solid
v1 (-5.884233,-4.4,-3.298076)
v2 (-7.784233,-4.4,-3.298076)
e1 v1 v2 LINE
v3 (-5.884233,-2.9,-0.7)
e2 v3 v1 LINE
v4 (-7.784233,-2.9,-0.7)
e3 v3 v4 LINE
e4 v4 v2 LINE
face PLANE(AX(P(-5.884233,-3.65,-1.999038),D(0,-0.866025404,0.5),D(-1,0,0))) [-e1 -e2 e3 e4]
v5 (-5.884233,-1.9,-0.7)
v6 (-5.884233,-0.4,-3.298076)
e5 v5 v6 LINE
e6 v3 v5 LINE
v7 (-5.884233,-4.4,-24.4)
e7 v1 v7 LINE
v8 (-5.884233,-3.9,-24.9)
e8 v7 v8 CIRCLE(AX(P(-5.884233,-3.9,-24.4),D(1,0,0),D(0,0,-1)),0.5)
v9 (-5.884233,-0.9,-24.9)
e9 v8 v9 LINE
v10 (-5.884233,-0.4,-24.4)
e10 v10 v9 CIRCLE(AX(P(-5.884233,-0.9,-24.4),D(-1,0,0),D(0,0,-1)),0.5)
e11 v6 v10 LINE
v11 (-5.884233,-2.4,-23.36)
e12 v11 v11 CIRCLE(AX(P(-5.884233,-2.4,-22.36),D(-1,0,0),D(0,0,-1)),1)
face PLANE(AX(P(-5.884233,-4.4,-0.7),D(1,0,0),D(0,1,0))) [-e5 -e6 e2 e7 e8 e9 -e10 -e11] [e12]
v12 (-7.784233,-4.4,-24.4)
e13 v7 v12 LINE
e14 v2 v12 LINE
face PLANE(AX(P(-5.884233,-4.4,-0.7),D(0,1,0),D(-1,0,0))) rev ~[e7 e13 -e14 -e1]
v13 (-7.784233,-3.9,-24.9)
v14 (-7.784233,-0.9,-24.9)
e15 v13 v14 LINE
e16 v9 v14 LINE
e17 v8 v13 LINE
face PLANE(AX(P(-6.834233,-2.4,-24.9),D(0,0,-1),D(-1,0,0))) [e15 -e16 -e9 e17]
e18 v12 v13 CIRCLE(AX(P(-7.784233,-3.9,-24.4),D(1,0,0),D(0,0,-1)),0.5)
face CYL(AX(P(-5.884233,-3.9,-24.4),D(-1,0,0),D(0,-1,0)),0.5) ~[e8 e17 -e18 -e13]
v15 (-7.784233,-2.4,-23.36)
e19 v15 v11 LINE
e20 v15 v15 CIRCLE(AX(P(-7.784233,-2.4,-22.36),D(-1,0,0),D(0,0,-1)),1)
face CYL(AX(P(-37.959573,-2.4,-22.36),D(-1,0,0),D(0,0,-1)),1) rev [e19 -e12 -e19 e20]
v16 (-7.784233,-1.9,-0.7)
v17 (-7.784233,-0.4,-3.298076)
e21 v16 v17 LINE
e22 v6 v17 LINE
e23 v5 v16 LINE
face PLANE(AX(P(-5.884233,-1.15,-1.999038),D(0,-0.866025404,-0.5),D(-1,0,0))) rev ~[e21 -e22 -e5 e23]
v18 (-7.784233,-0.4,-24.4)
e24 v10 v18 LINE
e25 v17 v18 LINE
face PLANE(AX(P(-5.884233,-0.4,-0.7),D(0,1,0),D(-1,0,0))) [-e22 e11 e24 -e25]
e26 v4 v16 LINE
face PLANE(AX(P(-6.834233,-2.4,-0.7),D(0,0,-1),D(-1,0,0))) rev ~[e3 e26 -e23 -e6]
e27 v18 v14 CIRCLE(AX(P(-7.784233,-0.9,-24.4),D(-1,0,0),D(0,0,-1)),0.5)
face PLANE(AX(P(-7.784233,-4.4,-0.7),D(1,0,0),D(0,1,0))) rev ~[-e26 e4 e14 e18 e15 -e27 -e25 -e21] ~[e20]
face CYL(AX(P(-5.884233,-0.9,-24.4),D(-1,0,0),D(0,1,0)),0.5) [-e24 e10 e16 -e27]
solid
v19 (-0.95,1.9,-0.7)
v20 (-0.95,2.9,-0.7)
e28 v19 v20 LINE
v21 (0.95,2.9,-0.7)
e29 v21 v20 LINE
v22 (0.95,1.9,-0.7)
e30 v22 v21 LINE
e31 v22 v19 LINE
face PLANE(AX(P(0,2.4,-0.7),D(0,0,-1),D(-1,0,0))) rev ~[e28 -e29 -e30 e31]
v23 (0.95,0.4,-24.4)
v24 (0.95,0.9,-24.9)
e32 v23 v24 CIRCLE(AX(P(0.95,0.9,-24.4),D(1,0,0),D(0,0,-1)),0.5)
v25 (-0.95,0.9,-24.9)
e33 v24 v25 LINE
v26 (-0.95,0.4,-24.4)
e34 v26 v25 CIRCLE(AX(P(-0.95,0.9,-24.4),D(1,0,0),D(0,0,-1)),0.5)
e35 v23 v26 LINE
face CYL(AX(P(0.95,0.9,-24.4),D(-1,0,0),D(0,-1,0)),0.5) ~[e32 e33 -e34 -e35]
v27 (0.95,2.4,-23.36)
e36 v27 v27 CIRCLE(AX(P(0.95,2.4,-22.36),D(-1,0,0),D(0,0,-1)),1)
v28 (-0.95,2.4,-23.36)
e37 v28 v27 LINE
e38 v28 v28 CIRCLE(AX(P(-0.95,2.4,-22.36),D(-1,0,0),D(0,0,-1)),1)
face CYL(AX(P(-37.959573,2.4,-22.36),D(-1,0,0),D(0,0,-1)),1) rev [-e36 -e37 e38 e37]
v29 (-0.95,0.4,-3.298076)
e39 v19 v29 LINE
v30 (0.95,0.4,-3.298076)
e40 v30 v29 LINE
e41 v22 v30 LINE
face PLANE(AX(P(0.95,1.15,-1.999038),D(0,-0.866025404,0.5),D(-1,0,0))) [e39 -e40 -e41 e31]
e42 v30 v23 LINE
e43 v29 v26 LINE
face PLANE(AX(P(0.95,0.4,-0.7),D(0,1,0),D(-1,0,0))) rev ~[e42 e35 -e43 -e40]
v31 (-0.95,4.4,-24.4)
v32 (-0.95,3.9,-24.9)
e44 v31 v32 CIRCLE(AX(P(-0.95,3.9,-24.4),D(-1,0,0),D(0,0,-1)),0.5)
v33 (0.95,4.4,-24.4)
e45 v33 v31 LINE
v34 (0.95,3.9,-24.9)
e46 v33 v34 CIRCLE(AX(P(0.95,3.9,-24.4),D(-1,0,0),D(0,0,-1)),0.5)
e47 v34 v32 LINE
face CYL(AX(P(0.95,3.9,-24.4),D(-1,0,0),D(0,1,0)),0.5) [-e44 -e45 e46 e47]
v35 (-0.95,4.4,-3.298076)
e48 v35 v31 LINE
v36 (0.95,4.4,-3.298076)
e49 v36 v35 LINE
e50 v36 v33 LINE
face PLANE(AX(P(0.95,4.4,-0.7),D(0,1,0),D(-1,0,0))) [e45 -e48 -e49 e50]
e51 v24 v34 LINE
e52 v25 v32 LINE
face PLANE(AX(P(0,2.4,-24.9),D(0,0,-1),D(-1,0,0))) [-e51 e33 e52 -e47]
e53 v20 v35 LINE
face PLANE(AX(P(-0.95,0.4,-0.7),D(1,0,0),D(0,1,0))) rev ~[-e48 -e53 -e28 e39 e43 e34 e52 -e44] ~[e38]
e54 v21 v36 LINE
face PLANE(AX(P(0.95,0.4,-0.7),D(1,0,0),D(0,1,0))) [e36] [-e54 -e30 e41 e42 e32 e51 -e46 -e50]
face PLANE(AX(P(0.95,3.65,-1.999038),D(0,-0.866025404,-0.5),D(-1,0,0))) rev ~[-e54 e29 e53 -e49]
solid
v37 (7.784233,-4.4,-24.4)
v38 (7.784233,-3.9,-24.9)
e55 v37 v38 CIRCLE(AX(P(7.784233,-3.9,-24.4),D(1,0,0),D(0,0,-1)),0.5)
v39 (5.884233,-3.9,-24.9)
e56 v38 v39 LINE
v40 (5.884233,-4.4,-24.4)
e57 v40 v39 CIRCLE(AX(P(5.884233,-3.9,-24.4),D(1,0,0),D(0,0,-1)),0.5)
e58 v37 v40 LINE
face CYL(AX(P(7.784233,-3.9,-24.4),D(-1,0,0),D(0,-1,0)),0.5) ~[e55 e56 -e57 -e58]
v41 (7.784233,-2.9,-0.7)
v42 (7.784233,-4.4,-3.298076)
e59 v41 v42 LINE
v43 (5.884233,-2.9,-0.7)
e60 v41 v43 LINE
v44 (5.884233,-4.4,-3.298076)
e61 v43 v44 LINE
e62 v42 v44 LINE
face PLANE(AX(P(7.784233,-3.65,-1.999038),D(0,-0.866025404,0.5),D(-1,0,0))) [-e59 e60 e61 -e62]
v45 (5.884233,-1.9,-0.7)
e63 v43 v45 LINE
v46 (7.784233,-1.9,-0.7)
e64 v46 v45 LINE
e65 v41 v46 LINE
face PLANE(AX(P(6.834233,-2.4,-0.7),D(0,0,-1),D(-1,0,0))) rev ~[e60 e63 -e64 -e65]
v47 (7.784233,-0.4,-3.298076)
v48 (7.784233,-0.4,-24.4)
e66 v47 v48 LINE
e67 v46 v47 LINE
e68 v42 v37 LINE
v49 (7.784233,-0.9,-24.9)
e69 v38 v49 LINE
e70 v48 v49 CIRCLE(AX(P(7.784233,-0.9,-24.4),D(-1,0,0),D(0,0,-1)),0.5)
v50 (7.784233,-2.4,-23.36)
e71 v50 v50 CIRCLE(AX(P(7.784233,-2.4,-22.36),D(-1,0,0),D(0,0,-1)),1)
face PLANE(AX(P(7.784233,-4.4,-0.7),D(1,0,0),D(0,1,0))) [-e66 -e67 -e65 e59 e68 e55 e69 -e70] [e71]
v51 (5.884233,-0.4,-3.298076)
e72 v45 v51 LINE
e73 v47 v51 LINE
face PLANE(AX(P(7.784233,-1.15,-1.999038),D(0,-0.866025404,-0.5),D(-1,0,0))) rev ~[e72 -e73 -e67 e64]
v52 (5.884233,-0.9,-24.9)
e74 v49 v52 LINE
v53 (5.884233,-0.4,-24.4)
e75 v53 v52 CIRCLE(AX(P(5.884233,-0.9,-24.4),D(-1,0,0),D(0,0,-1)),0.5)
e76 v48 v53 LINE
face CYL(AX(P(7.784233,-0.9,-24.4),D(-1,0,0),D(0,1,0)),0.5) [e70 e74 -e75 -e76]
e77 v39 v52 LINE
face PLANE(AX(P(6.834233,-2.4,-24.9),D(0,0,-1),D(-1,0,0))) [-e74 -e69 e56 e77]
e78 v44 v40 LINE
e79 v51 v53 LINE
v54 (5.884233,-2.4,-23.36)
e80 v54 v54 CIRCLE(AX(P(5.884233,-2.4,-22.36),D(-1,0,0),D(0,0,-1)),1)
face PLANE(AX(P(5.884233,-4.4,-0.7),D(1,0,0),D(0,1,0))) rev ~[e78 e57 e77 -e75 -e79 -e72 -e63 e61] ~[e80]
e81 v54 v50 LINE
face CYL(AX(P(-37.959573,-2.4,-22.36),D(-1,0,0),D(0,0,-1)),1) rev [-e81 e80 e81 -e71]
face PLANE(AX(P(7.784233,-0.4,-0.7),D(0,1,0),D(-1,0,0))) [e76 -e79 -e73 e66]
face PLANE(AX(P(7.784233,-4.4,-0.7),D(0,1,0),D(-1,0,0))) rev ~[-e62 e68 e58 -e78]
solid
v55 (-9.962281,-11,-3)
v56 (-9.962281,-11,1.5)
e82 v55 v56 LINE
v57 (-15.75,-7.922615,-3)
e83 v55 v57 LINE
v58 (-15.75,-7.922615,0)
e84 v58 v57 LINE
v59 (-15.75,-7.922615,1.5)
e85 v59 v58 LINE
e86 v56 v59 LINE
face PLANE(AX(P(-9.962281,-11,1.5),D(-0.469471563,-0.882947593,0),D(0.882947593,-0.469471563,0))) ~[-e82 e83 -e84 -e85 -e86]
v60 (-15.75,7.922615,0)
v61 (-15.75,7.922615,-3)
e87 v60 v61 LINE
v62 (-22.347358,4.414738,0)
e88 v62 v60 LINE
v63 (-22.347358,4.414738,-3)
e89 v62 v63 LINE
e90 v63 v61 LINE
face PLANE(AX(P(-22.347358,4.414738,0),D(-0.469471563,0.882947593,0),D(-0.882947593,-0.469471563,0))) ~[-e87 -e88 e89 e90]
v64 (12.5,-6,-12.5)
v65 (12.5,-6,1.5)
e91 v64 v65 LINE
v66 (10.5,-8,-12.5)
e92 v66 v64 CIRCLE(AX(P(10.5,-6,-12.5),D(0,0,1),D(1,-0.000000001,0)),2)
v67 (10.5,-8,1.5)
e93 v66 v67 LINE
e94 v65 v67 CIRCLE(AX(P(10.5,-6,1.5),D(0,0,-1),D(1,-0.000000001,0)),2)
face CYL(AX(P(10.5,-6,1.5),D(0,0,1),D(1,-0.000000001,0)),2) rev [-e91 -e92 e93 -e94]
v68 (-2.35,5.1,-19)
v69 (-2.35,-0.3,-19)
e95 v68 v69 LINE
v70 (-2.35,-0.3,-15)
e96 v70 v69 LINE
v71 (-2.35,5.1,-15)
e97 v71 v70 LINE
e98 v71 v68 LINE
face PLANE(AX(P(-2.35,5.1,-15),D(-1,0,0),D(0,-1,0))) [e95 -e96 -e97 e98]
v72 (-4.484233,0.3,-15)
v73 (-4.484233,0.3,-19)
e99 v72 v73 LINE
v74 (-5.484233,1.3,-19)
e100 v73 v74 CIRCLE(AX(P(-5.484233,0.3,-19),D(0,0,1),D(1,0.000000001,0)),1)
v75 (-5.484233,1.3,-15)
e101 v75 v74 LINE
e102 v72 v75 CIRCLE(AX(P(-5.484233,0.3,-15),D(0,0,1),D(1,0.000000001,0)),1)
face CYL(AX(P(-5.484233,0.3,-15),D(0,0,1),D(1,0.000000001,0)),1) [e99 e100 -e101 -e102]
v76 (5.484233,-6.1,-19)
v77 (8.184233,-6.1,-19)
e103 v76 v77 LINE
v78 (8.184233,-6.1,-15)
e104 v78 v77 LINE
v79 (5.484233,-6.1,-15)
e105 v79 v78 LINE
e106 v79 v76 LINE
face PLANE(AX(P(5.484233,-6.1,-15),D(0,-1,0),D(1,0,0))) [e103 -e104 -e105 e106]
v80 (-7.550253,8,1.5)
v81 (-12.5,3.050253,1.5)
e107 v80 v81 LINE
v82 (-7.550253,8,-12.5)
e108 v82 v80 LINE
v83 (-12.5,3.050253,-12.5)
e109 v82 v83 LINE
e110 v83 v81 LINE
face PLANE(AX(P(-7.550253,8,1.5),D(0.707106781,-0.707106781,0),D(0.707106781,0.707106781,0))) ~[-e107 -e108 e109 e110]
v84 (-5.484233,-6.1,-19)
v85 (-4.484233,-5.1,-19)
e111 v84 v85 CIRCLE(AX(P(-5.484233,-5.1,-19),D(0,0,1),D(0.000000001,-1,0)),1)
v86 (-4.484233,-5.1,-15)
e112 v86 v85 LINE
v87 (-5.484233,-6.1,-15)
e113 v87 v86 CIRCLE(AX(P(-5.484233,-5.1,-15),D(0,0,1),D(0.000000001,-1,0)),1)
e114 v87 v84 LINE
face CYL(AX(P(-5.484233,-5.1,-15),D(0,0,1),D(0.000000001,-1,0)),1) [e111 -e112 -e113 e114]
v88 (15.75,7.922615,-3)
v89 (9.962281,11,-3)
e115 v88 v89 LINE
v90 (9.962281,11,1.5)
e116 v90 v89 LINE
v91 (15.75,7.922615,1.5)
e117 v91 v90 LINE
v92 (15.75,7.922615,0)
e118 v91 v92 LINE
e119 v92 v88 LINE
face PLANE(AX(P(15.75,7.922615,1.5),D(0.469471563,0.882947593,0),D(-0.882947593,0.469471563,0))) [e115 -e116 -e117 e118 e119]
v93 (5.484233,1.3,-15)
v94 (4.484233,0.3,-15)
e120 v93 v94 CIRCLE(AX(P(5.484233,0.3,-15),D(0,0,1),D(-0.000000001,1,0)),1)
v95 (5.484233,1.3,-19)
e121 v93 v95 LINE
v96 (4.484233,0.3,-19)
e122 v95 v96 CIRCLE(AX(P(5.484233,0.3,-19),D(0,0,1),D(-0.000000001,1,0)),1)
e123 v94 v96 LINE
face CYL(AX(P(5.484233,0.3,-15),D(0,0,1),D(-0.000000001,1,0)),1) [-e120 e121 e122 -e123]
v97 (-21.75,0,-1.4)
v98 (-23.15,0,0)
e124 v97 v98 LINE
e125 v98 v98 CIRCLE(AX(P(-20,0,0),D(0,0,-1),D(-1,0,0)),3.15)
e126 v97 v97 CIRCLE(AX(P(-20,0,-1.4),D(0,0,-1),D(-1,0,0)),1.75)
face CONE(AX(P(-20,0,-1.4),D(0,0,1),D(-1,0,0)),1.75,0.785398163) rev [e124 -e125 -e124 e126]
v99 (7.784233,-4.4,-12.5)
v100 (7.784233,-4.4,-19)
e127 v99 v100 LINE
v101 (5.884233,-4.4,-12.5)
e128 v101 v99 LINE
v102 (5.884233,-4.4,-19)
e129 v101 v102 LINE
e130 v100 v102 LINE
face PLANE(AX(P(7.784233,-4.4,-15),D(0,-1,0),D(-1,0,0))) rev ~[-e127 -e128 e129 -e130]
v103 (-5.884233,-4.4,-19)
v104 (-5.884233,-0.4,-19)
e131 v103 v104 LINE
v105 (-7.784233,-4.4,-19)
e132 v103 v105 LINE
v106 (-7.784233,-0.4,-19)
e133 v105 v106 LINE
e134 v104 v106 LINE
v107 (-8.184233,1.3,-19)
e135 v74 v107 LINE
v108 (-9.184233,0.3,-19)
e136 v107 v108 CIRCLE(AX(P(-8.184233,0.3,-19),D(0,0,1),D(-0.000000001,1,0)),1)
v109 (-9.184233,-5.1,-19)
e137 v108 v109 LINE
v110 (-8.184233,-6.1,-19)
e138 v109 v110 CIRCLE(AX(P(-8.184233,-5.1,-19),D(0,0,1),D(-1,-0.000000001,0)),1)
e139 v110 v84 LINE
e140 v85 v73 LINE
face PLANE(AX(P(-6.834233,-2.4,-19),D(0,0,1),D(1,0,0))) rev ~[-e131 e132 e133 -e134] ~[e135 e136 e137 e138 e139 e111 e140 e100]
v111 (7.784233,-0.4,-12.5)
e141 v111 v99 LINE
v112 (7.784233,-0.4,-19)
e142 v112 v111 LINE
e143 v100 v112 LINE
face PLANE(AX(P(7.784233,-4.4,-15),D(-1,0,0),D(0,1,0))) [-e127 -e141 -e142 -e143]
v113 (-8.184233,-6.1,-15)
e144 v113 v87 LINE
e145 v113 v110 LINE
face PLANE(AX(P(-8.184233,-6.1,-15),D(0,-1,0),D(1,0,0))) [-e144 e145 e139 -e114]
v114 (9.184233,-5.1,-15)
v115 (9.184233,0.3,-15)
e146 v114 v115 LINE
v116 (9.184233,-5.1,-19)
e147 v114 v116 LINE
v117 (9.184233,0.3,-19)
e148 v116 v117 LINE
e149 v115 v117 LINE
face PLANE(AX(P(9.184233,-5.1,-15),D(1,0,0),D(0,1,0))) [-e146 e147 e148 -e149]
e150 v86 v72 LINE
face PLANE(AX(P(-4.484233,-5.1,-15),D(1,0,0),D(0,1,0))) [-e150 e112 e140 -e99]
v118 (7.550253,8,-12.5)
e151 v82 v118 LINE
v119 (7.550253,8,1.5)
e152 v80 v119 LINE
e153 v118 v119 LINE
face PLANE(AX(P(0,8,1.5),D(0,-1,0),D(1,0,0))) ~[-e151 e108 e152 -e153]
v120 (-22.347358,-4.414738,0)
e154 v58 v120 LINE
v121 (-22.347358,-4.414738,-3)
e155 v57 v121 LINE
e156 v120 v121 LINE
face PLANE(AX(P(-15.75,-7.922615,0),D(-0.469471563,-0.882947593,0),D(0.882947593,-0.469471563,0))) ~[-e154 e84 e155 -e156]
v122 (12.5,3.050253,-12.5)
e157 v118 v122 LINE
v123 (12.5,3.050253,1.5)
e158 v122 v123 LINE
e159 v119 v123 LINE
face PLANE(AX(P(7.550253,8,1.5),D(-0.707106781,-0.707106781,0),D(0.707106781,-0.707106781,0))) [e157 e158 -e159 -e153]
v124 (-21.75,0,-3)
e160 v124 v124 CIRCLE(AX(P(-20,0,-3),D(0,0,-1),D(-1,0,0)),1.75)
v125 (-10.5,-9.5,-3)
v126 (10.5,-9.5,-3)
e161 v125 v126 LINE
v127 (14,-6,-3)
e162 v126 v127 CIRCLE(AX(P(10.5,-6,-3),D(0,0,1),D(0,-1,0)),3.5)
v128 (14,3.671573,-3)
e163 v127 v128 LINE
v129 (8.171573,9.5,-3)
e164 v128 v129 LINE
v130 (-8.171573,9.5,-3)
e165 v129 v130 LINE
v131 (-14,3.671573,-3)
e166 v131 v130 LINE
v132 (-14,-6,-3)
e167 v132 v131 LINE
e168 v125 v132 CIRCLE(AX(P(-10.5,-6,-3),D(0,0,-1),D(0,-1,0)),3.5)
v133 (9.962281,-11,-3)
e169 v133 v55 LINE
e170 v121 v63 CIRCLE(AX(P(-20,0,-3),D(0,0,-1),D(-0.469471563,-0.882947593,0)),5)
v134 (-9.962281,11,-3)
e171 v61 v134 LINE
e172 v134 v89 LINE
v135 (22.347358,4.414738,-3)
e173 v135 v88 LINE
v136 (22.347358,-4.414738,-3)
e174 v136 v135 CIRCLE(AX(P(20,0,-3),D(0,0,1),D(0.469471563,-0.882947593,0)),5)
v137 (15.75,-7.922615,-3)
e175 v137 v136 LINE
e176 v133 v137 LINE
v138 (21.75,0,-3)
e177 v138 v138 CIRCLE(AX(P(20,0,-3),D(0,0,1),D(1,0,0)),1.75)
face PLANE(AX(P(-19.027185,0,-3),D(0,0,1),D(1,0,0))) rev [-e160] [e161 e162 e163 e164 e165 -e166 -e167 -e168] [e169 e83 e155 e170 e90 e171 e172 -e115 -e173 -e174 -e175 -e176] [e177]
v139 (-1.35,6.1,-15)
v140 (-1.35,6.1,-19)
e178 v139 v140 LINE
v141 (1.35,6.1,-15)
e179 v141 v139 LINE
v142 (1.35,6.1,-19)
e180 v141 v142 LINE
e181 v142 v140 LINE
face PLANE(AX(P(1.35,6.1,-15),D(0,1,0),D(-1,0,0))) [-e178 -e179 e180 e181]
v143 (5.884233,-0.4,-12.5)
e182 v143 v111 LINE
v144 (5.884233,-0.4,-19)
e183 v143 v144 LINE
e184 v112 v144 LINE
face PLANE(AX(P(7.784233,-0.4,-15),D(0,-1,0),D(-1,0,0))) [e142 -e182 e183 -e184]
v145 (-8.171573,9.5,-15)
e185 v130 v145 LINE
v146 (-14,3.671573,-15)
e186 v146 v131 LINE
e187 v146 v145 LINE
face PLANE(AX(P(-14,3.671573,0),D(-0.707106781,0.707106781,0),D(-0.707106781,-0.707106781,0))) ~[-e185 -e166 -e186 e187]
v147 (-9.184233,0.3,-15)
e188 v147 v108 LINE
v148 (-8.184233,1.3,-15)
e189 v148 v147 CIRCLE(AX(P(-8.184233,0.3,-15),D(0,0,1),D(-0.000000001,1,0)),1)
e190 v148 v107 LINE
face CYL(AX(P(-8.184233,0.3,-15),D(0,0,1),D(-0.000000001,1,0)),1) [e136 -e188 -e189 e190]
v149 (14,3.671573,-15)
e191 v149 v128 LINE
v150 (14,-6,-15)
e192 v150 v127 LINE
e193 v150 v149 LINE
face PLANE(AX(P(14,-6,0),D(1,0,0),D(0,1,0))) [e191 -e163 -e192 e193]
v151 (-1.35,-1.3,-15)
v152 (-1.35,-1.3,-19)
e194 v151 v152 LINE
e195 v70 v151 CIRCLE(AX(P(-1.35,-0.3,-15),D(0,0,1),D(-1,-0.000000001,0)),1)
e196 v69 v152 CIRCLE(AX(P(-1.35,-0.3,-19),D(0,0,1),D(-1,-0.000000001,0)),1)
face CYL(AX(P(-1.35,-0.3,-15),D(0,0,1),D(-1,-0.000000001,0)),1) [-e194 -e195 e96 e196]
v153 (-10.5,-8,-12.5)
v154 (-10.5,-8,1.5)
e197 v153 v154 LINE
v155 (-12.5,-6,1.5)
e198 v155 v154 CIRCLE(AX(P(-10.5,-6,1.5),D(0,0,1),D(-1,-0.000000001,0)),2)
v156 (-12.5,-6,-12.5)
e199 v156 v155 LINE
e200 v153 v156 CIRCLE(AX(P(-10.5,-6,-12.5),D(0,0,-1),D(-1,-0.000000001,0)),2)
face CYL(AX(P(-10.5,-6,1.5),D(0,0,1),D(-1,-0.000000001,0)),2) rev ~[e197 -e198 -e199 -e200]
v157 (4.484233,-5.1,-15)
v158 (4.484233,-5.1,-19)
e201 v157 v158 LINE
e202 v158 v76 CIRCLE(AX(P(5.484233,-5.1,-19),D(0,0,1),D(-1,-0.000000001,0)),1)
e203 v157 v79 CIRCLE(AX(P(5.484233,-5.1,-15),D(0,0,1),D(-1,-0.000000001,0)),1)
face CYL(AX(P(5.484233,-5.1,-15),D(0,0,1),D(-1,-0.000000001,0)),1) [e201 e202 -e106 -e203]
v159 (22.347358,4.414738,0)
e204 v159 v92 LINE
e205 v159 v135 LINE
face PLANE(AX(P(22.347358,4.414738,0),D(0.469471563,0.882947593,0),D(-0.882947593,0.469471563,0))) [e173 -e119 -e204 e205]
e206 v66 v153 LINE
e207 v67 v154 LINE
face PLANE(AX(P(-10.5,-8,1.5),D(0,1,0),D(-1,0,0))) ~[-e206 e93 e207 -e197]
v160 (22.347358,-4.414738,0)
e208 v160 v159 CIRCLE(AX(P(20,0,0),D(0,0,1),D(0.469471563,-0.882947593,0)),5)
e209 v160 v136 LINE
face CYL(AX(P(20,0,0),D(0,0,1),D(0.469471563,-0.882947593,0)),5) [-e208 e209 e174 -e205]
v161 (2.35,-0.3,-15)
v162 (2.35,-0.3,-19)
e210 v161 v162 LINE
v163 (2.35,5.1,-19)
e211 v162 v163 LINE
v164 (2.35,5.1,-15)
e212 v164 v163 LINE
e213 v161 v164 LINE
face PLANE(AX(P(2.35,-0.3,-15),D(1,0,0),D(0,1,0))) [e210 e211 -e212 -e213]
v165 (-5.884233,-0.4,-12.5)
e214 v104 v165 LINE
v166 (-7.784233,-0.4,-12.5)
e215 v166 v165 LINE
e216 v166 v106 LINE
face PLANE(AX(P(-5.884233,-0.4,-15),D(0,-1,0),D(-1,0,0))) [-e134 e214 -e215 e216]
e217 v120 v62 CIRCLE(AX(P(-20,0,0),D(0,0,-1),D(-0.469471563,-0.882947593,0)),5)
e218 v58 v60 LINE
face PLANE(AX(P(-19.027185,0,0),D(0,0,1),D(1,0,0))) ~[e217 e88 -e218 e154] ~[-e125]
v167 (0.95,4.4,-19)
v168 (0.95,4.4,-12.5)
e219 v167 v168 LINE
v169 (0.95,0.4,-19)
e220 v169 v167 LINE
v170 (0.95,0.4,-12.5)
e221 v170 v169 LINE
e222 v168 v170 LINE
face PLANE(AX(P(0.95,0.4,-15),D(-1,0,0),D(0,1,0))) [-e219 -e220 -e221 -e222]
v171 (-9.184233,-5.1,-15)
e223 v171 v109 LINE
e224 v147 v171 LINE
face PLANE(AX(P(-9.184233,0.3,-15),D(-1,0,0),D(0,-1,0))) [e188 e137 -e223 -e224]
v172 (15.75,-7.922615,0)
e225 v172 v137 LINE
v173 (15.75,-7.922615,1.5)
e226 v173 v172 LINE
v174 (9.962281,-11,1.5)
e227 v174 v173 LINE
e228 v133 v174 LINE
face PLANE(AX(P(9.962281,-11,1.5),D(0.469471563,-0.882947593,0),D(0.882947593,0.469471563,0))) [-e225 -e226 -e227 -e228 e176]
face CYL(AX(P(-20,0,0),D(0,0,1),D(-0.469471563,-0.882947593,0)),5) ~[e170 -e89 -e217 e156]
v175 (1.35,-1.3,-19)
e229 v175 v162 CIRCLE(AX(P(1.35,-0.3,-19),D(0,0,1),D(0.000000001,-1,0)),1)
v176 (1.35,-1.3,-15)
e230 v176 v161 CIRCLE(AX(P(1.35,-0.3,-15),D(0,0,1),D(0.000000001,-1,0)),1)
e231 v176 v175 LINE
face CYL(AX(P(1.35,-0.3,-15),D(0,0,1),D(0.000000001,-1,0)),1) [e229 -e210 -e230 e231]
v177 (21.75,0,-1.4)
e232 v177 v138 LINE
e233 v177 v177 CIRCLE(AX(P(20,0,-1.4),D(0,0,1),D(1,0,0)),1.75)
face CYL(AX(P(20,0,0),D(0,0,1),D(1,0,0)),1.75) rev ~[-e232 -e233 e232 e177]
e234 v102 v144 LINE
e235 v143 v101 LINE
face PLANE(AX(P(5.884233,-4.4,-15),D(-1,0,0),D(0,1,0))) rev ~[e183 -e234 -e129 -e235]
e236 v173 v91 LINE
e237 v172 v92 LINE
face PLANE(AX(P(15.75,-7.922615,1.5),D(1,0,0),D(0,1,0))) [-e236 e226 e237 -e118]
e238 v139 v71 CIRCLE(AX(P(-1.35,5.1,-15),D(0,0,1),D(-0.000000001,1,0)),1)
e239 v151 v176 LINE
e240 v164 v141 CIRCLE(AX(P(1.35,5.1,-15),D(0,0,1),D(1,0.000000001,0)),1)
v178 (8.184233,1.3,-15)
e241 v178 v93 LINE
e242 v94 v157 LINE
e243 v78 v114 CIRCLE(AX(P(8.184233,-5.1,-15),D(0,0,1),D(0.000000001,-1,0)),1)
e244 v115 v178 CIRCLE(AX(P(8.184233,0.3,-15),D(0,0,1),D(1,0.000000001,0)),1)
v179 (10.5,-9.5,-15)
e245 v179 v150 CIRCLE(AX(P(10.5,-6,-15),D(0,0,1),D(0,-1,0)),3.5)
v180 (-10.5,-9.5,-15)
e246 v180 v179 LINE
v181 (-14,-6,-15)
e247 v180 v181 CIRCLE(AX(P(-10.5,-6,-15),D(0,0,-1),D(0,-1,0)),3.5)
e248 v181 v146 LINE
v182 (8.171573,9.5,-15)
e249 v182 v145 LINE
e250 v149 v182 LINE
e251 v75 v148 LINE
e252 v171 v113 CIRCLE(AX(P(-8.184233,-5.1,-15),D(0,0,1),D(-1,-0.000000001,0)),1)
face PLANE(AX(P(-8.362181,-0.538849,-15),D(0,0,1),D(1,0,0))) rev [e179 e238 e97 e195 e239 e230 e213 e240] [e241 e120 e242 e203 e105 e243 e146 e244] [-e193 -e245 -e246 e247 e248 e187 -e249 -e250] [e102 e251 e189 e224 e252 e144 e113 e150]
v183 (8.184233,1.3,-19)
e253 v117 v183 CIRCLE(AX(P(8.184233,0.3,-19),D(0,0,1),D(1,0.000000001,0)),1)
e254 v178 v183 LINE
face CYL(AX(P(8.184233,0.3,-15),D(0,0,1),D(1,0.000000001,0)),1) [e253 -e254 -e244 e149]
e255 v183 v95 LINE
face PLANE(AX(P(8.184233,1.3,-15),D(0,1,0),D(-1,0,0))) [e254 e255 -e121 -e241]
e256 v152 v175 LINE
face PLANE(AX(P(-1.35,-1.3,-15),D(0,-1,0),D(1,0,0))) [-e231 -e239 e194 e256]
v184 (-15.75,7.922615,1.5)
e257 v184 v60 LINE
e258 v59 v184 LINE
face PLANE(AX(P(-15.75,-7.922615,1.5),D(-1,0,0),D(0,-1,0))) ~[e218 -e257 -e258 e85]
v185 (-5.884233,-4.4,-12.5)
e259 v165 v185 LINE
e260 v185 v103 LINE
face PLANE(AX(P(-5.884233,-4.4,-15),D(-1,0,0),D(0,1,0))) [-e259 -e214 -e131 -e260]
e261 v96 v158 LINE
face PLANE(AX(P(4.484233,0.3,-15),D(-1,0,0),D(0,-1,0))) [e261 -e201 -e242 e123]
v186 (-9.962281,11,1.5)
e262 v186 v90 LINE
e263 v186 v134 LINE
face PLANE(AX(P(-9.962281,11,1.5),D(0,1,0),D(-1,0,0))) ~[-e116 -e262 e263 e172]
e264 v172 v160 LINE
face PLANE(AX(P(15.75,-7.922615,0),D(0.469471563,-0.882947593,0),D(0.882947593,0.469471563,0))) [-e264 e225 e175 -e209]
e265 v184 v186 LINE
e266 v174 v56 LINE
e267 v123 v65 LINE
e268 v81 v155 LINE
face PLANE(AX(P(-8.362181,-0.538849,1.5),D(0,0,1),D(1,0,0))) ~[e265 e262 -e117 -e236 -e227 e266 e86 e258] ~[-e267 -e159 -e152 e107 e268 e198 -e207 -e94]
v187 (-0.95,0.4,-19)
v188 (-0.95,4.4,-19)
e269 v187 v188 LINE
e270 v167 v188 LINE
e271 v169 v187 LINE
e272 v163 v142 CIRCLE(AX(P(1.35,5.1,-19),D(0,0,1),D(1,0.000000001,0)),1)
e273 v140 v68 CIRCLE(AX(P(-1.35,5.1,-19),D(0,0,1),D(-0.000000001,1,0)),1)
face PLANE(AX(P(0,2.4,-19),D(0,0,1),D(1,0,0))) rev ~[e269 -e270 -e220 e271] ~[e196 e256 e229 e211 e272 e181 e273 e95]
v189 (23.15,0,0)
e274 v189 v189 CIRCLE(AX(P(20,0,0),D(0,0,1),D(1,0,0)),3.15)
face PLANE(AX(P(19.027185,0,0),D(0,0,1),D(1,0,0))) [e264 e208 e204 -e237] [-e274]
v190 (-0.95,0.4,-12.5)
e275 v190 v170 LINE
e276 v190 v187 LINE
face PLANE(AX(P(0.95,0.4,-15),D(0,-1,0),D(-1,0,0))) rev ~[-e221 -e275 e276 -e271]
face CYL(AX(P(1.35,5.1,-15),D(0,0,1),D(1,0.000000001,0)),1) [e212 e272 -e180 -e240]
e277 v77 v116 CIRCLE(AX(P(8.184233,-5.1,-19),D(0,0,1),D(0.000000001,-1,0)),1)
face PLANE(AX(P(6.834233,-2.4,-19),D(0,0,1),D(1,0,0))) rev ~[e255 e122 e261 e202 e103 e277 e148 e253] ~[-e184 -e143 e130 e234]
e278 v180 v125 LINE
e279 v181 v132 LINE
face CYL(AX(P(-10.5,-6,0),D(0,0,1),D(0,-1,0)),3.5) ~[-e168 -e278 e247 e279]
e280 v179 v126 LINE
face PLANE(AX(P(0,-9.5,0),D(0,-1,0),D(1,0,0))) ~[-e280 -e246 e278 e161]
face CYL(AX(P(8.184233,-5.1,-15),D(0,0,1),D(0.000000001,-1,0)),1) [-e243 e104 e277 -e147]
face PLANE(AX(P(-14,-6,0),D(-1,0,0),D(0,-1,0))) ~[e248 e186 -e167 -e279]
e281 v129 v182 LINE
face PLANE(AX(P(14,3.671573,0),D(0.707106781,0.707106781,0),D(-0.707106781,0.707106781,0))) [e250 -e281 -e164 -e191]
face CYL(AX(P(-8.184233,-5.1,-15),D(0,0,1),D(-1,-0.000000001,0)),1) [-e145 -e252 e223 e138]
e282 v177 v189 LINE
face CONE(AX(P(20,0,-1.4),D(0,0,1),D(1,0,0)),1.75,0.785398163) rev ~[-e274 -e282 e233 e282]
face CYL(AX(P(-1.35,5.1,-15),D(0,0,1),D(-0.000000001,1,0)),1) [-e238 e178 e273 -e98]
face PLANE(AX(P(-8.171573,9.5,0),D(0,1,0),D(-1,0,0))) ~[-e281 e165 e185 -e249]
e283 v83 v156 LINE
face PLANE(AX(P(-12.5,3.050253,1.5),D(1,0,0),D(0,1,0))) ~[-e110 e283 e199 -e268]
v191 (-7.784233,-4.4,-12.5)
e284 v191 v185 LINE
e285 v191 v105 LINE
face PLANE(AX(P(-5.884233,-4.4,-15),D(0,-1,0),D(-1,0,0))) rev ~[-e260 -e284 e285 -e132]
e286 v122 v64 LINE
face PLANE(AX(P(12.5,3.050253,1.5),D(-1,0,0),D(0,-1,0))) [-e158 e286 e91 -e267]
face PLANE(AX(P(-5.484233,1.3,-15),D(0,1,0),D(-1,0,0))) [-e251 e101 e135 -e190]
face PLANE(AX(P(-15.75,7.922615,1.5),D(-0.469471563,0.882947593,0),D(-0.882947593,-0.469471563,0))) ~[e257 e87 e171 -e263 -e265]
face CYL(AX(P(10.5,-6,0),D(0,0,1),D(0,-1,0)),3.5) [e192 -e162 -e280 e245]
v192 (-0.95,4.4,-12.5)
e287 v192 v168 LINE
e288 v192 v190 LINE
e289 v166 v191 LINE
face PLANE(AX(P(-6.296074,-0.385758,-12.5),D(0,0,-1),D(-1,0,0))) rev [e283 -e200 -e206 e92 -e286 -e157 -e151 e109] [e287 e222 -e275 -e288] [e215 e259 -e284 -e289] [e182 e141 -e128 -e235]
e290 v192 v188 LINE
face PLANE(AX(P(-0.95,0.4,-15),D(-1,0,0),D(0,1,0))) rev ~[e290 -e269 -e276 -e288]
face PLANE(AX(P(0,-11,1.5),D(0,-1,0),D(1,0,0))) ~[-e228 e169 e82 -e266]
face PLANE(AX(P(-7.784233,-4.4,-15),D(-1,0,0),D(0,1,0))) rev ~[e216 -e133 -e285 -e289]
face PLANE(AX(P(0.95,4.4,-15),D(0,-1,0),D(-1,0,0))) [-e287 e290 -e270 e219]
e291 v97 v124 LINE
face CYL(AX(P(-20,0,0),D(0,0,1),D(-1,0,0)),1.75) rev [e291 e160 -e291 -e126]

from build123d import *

# Parameters (mm, degrees)
SKETCH1_R                  = 1.75
BOSS_EXTRUDE1_DEPTH        = 3
BOSS_EXTRUDE2_START        = 1.5
BOSS_EXTRUDE2_DEPTH        = 1.5
BOSS_EXTRUDE3_DEPTH        = 15
BOSS_EXTRUDE4_START        = -2.5
BOSS_EXTRUDE4_DEPTH        = 2.5
CHAMFER2_SIZE              = 1.4
SKETCH4_W                  = 1.9
SKETCH4_H                  = 4
BOSS_EXTRUDE5_DEPTH        = 4
SKETCH4_2_W                = 1.9
SKETCH4_2_H                = 4
CUT_EXTRUDE1_DEPTH         = 32.910029771
BOSS_EXTRUDE6_DEPTH        = 9.9
BOSS_EXTRUDE6_DEPTH_BACK   = 14.3
SKETCH4_3_W                = 1.9
SKETCH4_3_H                = 4
BOSS_EXTRUDE6_2_DEPTH      = 9.9
BOSS_EXTRUDE6_2_DEPTH_BACK = 14.3
BOSS_EXTRUDE6_3_DEPTH      = 9.9
BOSS_EXTRUDE6_3_DEPTH_BACK = 14.3
FILLET1_R                  = 0.5
FILLET2_R                  = 0.5
FILLET3_R                  = 0.5
CUT_EXTRUDE2_DEPTH         = 37.959572508
CUT_EXTRUDE2_DEPTH_BACK    = 37.959572508
SKETCH5_R                  = 1
CHAMFER3_SIZE              = 1.5
CHAMFER3_SIZE2             = 2.598076211
CHAMFER4_SIZE              = 1.5
CHAMFER4_SIZE2             = 2.598076211
CHAMFER5_SIZE              = 1.5
CHAMFER5_SIZE2             = 2.598076211


with BuildPart() as part:
    # Sketch1 → Boss-Extrude1 (new body)
    # profile 1 of 3: a face of its own
    with BuildSketch(Plane.XY):
        with BuildLine():
            Line((15.75, 7.922615338), (9.962281222, 11))
            Line((9.962281222, 11), (0, 11))
            Line((0, 11), (0, 9.5))
            Line((0, 9.5), (8.171572875, 9.5))
            Line((8.171572875, 9.5), (14, 3.671572875))
            Line((14, 3.671572875), (14, -6))
            ThreePointArc((14, -6), (12.974873734, -8.474873734), (10.5, -9.5))
            Line((10.5, -9.5), (0, -9.5))
            Line((0, -9.5), (0, -11))
            Line((0, -11), (9.962281222, -11))
            Line((9.962281222, -11), (15.75, -7.922615338))
            Line((15.75, -7.922615338), (15.75, 7.922615338))
        make_face()
    # profile 2 of 3: a face of its own
    with BuildSketch(Plane.XY):
        with BuildLine():
            Line((8.171572875, 9.5), (0, 9.5))
            Line((0, 9.5), (0, 8))
            Line((0, 8), (7.550252532, 8))
            Line((7.550252532, 8), (12.5, 3.050252532))
            Line((12.5, 3.050252532), (12.5, -6))
            ThreePointArc((12.5, -6), (11.914213562, -7.414213562), (10.5, -8))
            Line((10.5, -8), (0, -8))
            Line((0, -8), (0, -9.5))
            Line((0, -9.5), (10.5, -9.5))
            ThreePointArc((10.5, -9.5), (12.974873734, -8.474873734), (14, -6))
            Line((14, -6), (14, 3.671572875))
            Line((14, 3.671572875), (8.171572875, 9.5))
        make_face()
    # profile 3 of 3: a face of its own
    with BuildSketch(Plane.XY):
        with BuildLine():
            Line((22.347357814, 4.414737964), (15.75, 7.922615338))
            Line((15.75, 7.922615338), (15.75, -7.922615338))
            Line((15.75, -7.922615338), (22.347357814, -4.414737964))
            ThreePointArc((22.347357814, -4.414737964), (25, 0), (22.347357814, 4.414737964))
        make_face()
        with Locations((20, 0)):
            Circle(SKETCH1_R, mode=Mode.SUBTRACT)
    extrude(amount=-BOSS_EXTRUDE1_DEPTH)

    # Sketch1<3> → Boss-Extrude2 (add)
    with BuildSketch(Plane.XY.offset(BOSS_EXTRUDE2_START)):
        with BuildLine():
            Line((8.171572875, 9.5), (0, 9.5))
            Line((0, 9.5), (0, 8))
            Line((0, 8), (7.550252532, 8))
            Line((7.550252532, 8), (12.5, 3.050252532))
            Line((12.5, 3.050252532), (12.5, -6))
            ThreePointArc((12.5, -6), (11.914213562, -7.414213562), (10.5, -8))
            Line((10.5, -8), (0, -8))
            Line((0, -8), (0, -9.5))
            Line((0, -9.5), (10.5, -9.5))
            ThreePointArc((10.5, -9.5), (12.974873734, -8.474873734), (14, -6))
            Line((14, -6), (14, 3.671572875))
            Line((14, 3.671572875), (8.171572875, 9.5))
        make_face()
        with BuildLine():
            Line((15.75, 7.922615338), (9.962281222, 11))
            Line((9.962281222, 11), (0, 11))
            Line((0, 11), (0, 9.5))
            Line((0, 9.5), (8.171572875, 9.5))
            Line((8.171572875, 9.5), (14, 3.671572875))
            Line((14, 3.671572875), (14, -6))
            ThreePointArc((14, -6), (12.974873734, -8.474873734), (10.5, -9.5))
            Line((10.5, -9.5), (0, -9.5))
            Line((0, -9.5), (0, -11))
            Line((0, -11), (9.962281222, -11))
            Line((9.962281222, -11), (15.75, -7.922615338))
            Line((15.75, -7.922615338), (15.75, 7.922615338))
        make_face()
    extrude(amount=-BOSS_EXTRUDE2_DEPTH)

    # Sketch1<4> → Boss-Extrude3 (add)
    with BuildSketch(Plane.XY):
        with BuildLine():
            Line((8.171572875, 9.5), (0, 9.5))
            Line((0, 9.5), (0, 8))
            Line((0, 8), (7.550252532, 8))
            Line((7.550252532, 8), (12.5, 3.050252532))
            Line((12.5, 3.050252532), (12.5, -6))
            ThreePointArc((12.5, -6), (11.914213562, -7.414213562), (10.5, -8))
            Line((10.5, -8), (0, -8))
            Line((0, -8), (0, -9.5))
            Line((0, -9.5), (10.5, -9.5))
            ThreePointArc((10.5, -9.5), (12.974873734, -8.474873734), (14, -6))
            Line((14, -6), (14, 3.671572875))
            Line((14, 3.671572875), (8.171572875, 9.5))
        make_face()
    extrude(amount=-BOSS_EXTRUDE3_DEPTH)

    # Sketch2 → Boss-Extrude4 (add)
    with BuildSketch(Plane(origin=(0, 0, -15), x_dir=(-1, 0, 0), z_dir=(0, 0, -1)).offset(BOSS_EXTRUDE4_START)):
        with BuildLine():
            Line((0, 9.5), (-8.171572875, 9.5))
            Line((-8.171572875, 9.5), (-14, 3.671572875))
            Line((-14, 3.671572875), (-14, -6))
            ThreePointArc((-14, -6), (-12.974873734, -8.474873734), (-10.5, -9.5))
            Line((-10.5, -9.5), (0, -9.5))
            Line((0, -9.5), (0, 9.5))
        make_face()
    extrude(amount=BOSS_EXTRUDE4_DEPTH)

    # Chamfer2
    chamfer2_edges = [part.edges().sort_by_distance(p)[0] for p in [
        (18.25, 0, 0),
    ]]
    chamfer(chamfer2_edges, length=CHAMFER2_SIZE)

    # Mirror1: part across plane


with BuildPart() as part_1:
    add(part.part)
    add(part.part.mirror(Plane(origin=(0, 0, 0), x_dir=(0, 0, 1), z_dir=(1, 0, 0))))

    # Sketch4 → Boss-Extrude5 (add)
    # profile 1 of 3: a face of its own
    with BuildSketch(Plane(origin=(0, 0, -15), x_dir=(-1, 0, 0), z_dir=(0, 0, -1))):
        with BuildLine():
            Line((-1.35, 6.1), (1.35, 6.1))
            ThreePointArc((1.35, 6.1), (2.057106781, 5.807106781), (2.35, 5.1))
            Line((2.35, 5.1), (2.35, -0.3))
            ThreePointArc((2.35, -0.3), (2.057106781, -1.007106781), (1.35, -1.3))
            Line((1.35, -1.3), (-1.35, -1.3))
            ThreePointArc((-1.35, -1.3), (-2.057106781, -1.007106781), (-2.35, -0.3))
            Line((-2.35, -0.3), (-2.35, 5.1))
            ThreePointArc((-2.35, 5.1), (-2.057106781, 5.807106781), (-1.35, 6.1))
        make_face()
        with Locations((0, 2.4)):
            Rectangle(SKETCH4_W, SKETCH4_H, mode=Mode.SUBTRACT)
    # profile 2 of 3: a face of its own
    with BuildSketch(Plane(origin=(0, 0, -15), x_dir=(-1, 0, 0), z_dir=(0, 0, -1))):
        with BuildLine():
            Line((-8.184232728, 1.3), (-5.484232728, 1.3))
            ThreePointArc((-5.484232728, 1.3), (-4.777125947, 1.007106781), (-4.484232728, 0.3))
            Line((-4.484232728, 0.3), (-4.484232728, -5.1))
            ThreePointArc((-4.484232728, -5.1), (-4.777125947, -5.807106781), (-5.484232728, -6.1))
            Line((-5.484232728, -6.1), (-8.184232728, -6.1))
            ThreePointArc((-8.184232728, -6.1), (-8.891339509, -5.807106781), (-9.184232728, -5.1))
            Line((-9.184232728, -5.1), (-9.184232728, 0.3))
            ThreePointArc((-9.184232728, 0.3), (-8.891339509, 1.007106781), (-8.184232728, 1.3))
        make_face()
        with Locations((-6.834232728, -2.4)):
            Rectangle(SKETCH4_W, SKETCH4_H, mode=Mode.SUBTRACT)
    # profile 3 of 3: a face of its own
    with BuildSketch(Plane(origin=(0, 0, -15), x_dir=(-1, 0, 0), z_dir=(0, 0, -1))):
        with BuildLine():
            Line((5.484232728, 1.3), (8.184232728, 1.3))
            ThreePointArc((8.184232728, 1.3), (8.891339509, 1.007106781), (9.184232728, 0.3))
            Line((9.184232728, 0.3), (9.184232728, -5.1))
            ThreePointArc((9.184232728, -5.1), (8.891339509, -5.807106781), (8.184232728, -6.1))
            Line((8.184232728, -6.1), (5.484232728, -6.1))
            ThreePointArc((5.484232728, -6.1), (4.777125947, -5.807106781), (4.484232728, -5.1))
            Line((4.484232728, -5.1), (4.484232728, 0.3))
            ThreePointArc((4.484232728, 0.3), (4.777125947, 1.007106781), (5.484232728, 1.3))
        make_face()
        with Locations((6.834232728, -2.4)):
            Rectangle(SKETCH4_W, SKETCH4_H, mode=Mode.SUBTRACT)
    extrude(amount=BOSS_EXTRUDE5_DEPTH)

    # Sketch4<2> → Cut-Extrude1 (cut, through all)
    with BuildSketch(Plane(origin=(0, 0, -15), x_dir=(-1, 0, 0), z_dir=(0, 0, -1))):
        with Locations((-6.834232728, -2.4)):
            Rectangle(SKETCH4_2_W, SKETCH4_2_H)
        with Locations((0, 2.4)):
            Rectangle(SKETCH4_2_W, SKETCH4_2_H)
        with Locations((6.834232728, -2.4)):
            Rectangle(SKETCH4_2_W, SKETCH4_2_H)
    extrude(amount=-CUT_EXTRUDE1_DEPTH, mode=Mode.SUBTRACT)


with BuildPart() as body_2:
    # Sketch4<3> → Boss-Extrude6 (new, two sides: drawn at the far end of the back side and taken through both)
    with BuildSketch(Plane(origin=(0, 0, -15), x_dir=(-1, 0, 0), z_dir=(0, 0, -1)).offset(-BOSS_EXTRUDE6_DEPTH_BACK)):
        with Locations((-6.834232728, -2.4)):
            Rectangle(SKETCH4_3_W, SKETCH4_3_H)
    extrude(amount=BOSS_EXTRUDE6_DEPTH + BOSS_EXTRUDE6_DEPTH_BACK)

    # Fillet1
    fillet1_edges = [body_2.edges().sort_by_distance(p)[0] for p in [
        (6.834232728, -0.4, -24.9),
        (6.834232728, -4.4, -24.9),
    ]]
    fillet(fillet1_edges, radius=FILLET1_R)


with BuildPart() as body_3:
    # Sketch4<3> → Boss-Extrude6 2 (new, two sides: drawn at the far end of the back side and taken through both)
    with BuildSketch(Plane(origin=(0, 0, -15), x_dir=(-1, 0, 0), z_dir=(0, 0, -1)).offset(-BOSS_EXTRUDE6_2_DEPTH_BACK)):
        with Locations((0, 2.4)):
            Rectangle(SKETCH4_3_W, SKETCH4_3_H)
    extrude(amount=BOSS_EXTRUDE6_2_DEPTH + BOSS_EXTRUDE6_2_DEPTH_BACK)

    # Fillet2
    fillet2_edges = [body_3.edges().sort_by_distance(p)[0] for p in [
        (0, 4.4, -24.9),
        (0, 0.4, -24.9),
    ]]
    fillet(fillet2_edges, radius=FILLET2_R)


with BuildPart() as body_4:
    # Sketch4<3> → Boss-Extrude6 3 (new, two sides: drawn at the far end of the back side and taken through both)
    with BuildSketch(Plane(origin=(0, 0, -15), x_dir=(-1, 0, 0), z_dir=(0, 0, -1)).offset(-BOSS_EXTRUDE6_3_DEPTH_BACK)):
        with Locations((6.834232728, -2.4)):
            Rectangle(SKETCH4_3_W, SKETCH4_3_H)
    extrude(amount=BOSS_EXTRUDE6_3_DEPTH + BOSS_EXTRUDE6_3_DEPTH_BACK)

    # Fillet3
    fillet3_edges = [body_4.edges().sort_by_distance(p)[0] for p in [
        (-6.834232728, -0.4, -24.9),
        (-6.834232728, -4.4, -24.9),
    ]]
    fillet(fillet3_edges, radius=FILLET3_R)


with BuildPart() as cut_extrude2_tool:
    # Sketch5 → Cut-Extrude2 (new, two sides: drawn at the far end of the back side and taken through both)
    with BuildSketch(Plane(origin=(0, 0, 0), x_dir=(0, 0, -1), z_dir=(1, 0, 0)).offset(-CUT_EXTRUDE2_DEPTH_BACK)):
        with Locations((22.36, 2.4)):
            Circle(SKETCH5_R)
        with Locations((22.36, -2.4)):
            Circle(SKETCH5_R)
    extrude(amount=CUT_EXTRUDE2_DEPTH + CUT_EXTRUDE2_DEPTH_BACK)


with BuildPart() as body_2_1:
    add(body_2.part)

    # Cut-Extrude2: cut by cut_extrude2_tool
    add(cut_extrude2_tool.part, mode=Mode.SUBTRACT)

    # Chamfer5
    chamfer5_edges = [body_2_1.edges().sort_by_distance(p)[0] for p in [
        (6.834232728, -4.4, -0.7),
        (6.834232728, -0.4, -0.7),
    ]]
    chamfer5_side = [body_2_1.faces().sort_by_distance(p)[0] for p in [
        (6.834232728, -2.4, -0.7),
    ]]
    chamfer(chamfer5_edges, length=CHAMFER5_SIZE, length2=CHAMFER5_SIZE2, reference=chamfer5_side[0])


with BuildPart() as body_3_1:
    add(body_3.part)

    # Cut-Extrude2: cut by cut_extrude2_tool
    add(cut_extrude2_tool.part, mode=Mode.SUBTRACT)

    # Chamfer4
    chamfer4_edges = [body_3_1.edges().sort_by_distance(p)[0] for p in [
        (0, 0.4, -0.7),
        (0, 4.4, -0.7),
    ]]
    chamfer4_side = [body_3_1.faces().sort_by_distance(p)[0] for p in [
        (0, 2.4, -0.7),
    ]]
    chamfer(chamfer4_edges, length=CHAMFER4_SIZE, length2=CHAMFER4_SIZE2, reference=chamfer4_side[0])


with BuildPart() as body_4_1:
    add(body_4.part)

    # Cut-Extrude2: cut by cut_extrude2_tool
    add(cut_extrude2_tool.part, mode=Mode.SUBTRACT)

    # Chamfer3
    chamfer3_edges = [body_4_1.edges().sort_by_distance(p)[0] for p in [
        (-6.834232728, -4.4, -0.7),
        (-6.834232728, -0.4, -0.7),
    ]]
    chamfer3_side = [body_4_1.faces().sort_by_distance(p)[0] for p in [
        (-6.834232728, -2.4, -0.7),
    ]]
    chamfer(chamfer3_edges, length=CHAMFER3_SIZE, length2=CHAMFER3_SIZE2, reference=chamfer3_side[0])


solid = Compound([part_1.part, body_2_1.part, body_3_1.part, body_4_1.part])
